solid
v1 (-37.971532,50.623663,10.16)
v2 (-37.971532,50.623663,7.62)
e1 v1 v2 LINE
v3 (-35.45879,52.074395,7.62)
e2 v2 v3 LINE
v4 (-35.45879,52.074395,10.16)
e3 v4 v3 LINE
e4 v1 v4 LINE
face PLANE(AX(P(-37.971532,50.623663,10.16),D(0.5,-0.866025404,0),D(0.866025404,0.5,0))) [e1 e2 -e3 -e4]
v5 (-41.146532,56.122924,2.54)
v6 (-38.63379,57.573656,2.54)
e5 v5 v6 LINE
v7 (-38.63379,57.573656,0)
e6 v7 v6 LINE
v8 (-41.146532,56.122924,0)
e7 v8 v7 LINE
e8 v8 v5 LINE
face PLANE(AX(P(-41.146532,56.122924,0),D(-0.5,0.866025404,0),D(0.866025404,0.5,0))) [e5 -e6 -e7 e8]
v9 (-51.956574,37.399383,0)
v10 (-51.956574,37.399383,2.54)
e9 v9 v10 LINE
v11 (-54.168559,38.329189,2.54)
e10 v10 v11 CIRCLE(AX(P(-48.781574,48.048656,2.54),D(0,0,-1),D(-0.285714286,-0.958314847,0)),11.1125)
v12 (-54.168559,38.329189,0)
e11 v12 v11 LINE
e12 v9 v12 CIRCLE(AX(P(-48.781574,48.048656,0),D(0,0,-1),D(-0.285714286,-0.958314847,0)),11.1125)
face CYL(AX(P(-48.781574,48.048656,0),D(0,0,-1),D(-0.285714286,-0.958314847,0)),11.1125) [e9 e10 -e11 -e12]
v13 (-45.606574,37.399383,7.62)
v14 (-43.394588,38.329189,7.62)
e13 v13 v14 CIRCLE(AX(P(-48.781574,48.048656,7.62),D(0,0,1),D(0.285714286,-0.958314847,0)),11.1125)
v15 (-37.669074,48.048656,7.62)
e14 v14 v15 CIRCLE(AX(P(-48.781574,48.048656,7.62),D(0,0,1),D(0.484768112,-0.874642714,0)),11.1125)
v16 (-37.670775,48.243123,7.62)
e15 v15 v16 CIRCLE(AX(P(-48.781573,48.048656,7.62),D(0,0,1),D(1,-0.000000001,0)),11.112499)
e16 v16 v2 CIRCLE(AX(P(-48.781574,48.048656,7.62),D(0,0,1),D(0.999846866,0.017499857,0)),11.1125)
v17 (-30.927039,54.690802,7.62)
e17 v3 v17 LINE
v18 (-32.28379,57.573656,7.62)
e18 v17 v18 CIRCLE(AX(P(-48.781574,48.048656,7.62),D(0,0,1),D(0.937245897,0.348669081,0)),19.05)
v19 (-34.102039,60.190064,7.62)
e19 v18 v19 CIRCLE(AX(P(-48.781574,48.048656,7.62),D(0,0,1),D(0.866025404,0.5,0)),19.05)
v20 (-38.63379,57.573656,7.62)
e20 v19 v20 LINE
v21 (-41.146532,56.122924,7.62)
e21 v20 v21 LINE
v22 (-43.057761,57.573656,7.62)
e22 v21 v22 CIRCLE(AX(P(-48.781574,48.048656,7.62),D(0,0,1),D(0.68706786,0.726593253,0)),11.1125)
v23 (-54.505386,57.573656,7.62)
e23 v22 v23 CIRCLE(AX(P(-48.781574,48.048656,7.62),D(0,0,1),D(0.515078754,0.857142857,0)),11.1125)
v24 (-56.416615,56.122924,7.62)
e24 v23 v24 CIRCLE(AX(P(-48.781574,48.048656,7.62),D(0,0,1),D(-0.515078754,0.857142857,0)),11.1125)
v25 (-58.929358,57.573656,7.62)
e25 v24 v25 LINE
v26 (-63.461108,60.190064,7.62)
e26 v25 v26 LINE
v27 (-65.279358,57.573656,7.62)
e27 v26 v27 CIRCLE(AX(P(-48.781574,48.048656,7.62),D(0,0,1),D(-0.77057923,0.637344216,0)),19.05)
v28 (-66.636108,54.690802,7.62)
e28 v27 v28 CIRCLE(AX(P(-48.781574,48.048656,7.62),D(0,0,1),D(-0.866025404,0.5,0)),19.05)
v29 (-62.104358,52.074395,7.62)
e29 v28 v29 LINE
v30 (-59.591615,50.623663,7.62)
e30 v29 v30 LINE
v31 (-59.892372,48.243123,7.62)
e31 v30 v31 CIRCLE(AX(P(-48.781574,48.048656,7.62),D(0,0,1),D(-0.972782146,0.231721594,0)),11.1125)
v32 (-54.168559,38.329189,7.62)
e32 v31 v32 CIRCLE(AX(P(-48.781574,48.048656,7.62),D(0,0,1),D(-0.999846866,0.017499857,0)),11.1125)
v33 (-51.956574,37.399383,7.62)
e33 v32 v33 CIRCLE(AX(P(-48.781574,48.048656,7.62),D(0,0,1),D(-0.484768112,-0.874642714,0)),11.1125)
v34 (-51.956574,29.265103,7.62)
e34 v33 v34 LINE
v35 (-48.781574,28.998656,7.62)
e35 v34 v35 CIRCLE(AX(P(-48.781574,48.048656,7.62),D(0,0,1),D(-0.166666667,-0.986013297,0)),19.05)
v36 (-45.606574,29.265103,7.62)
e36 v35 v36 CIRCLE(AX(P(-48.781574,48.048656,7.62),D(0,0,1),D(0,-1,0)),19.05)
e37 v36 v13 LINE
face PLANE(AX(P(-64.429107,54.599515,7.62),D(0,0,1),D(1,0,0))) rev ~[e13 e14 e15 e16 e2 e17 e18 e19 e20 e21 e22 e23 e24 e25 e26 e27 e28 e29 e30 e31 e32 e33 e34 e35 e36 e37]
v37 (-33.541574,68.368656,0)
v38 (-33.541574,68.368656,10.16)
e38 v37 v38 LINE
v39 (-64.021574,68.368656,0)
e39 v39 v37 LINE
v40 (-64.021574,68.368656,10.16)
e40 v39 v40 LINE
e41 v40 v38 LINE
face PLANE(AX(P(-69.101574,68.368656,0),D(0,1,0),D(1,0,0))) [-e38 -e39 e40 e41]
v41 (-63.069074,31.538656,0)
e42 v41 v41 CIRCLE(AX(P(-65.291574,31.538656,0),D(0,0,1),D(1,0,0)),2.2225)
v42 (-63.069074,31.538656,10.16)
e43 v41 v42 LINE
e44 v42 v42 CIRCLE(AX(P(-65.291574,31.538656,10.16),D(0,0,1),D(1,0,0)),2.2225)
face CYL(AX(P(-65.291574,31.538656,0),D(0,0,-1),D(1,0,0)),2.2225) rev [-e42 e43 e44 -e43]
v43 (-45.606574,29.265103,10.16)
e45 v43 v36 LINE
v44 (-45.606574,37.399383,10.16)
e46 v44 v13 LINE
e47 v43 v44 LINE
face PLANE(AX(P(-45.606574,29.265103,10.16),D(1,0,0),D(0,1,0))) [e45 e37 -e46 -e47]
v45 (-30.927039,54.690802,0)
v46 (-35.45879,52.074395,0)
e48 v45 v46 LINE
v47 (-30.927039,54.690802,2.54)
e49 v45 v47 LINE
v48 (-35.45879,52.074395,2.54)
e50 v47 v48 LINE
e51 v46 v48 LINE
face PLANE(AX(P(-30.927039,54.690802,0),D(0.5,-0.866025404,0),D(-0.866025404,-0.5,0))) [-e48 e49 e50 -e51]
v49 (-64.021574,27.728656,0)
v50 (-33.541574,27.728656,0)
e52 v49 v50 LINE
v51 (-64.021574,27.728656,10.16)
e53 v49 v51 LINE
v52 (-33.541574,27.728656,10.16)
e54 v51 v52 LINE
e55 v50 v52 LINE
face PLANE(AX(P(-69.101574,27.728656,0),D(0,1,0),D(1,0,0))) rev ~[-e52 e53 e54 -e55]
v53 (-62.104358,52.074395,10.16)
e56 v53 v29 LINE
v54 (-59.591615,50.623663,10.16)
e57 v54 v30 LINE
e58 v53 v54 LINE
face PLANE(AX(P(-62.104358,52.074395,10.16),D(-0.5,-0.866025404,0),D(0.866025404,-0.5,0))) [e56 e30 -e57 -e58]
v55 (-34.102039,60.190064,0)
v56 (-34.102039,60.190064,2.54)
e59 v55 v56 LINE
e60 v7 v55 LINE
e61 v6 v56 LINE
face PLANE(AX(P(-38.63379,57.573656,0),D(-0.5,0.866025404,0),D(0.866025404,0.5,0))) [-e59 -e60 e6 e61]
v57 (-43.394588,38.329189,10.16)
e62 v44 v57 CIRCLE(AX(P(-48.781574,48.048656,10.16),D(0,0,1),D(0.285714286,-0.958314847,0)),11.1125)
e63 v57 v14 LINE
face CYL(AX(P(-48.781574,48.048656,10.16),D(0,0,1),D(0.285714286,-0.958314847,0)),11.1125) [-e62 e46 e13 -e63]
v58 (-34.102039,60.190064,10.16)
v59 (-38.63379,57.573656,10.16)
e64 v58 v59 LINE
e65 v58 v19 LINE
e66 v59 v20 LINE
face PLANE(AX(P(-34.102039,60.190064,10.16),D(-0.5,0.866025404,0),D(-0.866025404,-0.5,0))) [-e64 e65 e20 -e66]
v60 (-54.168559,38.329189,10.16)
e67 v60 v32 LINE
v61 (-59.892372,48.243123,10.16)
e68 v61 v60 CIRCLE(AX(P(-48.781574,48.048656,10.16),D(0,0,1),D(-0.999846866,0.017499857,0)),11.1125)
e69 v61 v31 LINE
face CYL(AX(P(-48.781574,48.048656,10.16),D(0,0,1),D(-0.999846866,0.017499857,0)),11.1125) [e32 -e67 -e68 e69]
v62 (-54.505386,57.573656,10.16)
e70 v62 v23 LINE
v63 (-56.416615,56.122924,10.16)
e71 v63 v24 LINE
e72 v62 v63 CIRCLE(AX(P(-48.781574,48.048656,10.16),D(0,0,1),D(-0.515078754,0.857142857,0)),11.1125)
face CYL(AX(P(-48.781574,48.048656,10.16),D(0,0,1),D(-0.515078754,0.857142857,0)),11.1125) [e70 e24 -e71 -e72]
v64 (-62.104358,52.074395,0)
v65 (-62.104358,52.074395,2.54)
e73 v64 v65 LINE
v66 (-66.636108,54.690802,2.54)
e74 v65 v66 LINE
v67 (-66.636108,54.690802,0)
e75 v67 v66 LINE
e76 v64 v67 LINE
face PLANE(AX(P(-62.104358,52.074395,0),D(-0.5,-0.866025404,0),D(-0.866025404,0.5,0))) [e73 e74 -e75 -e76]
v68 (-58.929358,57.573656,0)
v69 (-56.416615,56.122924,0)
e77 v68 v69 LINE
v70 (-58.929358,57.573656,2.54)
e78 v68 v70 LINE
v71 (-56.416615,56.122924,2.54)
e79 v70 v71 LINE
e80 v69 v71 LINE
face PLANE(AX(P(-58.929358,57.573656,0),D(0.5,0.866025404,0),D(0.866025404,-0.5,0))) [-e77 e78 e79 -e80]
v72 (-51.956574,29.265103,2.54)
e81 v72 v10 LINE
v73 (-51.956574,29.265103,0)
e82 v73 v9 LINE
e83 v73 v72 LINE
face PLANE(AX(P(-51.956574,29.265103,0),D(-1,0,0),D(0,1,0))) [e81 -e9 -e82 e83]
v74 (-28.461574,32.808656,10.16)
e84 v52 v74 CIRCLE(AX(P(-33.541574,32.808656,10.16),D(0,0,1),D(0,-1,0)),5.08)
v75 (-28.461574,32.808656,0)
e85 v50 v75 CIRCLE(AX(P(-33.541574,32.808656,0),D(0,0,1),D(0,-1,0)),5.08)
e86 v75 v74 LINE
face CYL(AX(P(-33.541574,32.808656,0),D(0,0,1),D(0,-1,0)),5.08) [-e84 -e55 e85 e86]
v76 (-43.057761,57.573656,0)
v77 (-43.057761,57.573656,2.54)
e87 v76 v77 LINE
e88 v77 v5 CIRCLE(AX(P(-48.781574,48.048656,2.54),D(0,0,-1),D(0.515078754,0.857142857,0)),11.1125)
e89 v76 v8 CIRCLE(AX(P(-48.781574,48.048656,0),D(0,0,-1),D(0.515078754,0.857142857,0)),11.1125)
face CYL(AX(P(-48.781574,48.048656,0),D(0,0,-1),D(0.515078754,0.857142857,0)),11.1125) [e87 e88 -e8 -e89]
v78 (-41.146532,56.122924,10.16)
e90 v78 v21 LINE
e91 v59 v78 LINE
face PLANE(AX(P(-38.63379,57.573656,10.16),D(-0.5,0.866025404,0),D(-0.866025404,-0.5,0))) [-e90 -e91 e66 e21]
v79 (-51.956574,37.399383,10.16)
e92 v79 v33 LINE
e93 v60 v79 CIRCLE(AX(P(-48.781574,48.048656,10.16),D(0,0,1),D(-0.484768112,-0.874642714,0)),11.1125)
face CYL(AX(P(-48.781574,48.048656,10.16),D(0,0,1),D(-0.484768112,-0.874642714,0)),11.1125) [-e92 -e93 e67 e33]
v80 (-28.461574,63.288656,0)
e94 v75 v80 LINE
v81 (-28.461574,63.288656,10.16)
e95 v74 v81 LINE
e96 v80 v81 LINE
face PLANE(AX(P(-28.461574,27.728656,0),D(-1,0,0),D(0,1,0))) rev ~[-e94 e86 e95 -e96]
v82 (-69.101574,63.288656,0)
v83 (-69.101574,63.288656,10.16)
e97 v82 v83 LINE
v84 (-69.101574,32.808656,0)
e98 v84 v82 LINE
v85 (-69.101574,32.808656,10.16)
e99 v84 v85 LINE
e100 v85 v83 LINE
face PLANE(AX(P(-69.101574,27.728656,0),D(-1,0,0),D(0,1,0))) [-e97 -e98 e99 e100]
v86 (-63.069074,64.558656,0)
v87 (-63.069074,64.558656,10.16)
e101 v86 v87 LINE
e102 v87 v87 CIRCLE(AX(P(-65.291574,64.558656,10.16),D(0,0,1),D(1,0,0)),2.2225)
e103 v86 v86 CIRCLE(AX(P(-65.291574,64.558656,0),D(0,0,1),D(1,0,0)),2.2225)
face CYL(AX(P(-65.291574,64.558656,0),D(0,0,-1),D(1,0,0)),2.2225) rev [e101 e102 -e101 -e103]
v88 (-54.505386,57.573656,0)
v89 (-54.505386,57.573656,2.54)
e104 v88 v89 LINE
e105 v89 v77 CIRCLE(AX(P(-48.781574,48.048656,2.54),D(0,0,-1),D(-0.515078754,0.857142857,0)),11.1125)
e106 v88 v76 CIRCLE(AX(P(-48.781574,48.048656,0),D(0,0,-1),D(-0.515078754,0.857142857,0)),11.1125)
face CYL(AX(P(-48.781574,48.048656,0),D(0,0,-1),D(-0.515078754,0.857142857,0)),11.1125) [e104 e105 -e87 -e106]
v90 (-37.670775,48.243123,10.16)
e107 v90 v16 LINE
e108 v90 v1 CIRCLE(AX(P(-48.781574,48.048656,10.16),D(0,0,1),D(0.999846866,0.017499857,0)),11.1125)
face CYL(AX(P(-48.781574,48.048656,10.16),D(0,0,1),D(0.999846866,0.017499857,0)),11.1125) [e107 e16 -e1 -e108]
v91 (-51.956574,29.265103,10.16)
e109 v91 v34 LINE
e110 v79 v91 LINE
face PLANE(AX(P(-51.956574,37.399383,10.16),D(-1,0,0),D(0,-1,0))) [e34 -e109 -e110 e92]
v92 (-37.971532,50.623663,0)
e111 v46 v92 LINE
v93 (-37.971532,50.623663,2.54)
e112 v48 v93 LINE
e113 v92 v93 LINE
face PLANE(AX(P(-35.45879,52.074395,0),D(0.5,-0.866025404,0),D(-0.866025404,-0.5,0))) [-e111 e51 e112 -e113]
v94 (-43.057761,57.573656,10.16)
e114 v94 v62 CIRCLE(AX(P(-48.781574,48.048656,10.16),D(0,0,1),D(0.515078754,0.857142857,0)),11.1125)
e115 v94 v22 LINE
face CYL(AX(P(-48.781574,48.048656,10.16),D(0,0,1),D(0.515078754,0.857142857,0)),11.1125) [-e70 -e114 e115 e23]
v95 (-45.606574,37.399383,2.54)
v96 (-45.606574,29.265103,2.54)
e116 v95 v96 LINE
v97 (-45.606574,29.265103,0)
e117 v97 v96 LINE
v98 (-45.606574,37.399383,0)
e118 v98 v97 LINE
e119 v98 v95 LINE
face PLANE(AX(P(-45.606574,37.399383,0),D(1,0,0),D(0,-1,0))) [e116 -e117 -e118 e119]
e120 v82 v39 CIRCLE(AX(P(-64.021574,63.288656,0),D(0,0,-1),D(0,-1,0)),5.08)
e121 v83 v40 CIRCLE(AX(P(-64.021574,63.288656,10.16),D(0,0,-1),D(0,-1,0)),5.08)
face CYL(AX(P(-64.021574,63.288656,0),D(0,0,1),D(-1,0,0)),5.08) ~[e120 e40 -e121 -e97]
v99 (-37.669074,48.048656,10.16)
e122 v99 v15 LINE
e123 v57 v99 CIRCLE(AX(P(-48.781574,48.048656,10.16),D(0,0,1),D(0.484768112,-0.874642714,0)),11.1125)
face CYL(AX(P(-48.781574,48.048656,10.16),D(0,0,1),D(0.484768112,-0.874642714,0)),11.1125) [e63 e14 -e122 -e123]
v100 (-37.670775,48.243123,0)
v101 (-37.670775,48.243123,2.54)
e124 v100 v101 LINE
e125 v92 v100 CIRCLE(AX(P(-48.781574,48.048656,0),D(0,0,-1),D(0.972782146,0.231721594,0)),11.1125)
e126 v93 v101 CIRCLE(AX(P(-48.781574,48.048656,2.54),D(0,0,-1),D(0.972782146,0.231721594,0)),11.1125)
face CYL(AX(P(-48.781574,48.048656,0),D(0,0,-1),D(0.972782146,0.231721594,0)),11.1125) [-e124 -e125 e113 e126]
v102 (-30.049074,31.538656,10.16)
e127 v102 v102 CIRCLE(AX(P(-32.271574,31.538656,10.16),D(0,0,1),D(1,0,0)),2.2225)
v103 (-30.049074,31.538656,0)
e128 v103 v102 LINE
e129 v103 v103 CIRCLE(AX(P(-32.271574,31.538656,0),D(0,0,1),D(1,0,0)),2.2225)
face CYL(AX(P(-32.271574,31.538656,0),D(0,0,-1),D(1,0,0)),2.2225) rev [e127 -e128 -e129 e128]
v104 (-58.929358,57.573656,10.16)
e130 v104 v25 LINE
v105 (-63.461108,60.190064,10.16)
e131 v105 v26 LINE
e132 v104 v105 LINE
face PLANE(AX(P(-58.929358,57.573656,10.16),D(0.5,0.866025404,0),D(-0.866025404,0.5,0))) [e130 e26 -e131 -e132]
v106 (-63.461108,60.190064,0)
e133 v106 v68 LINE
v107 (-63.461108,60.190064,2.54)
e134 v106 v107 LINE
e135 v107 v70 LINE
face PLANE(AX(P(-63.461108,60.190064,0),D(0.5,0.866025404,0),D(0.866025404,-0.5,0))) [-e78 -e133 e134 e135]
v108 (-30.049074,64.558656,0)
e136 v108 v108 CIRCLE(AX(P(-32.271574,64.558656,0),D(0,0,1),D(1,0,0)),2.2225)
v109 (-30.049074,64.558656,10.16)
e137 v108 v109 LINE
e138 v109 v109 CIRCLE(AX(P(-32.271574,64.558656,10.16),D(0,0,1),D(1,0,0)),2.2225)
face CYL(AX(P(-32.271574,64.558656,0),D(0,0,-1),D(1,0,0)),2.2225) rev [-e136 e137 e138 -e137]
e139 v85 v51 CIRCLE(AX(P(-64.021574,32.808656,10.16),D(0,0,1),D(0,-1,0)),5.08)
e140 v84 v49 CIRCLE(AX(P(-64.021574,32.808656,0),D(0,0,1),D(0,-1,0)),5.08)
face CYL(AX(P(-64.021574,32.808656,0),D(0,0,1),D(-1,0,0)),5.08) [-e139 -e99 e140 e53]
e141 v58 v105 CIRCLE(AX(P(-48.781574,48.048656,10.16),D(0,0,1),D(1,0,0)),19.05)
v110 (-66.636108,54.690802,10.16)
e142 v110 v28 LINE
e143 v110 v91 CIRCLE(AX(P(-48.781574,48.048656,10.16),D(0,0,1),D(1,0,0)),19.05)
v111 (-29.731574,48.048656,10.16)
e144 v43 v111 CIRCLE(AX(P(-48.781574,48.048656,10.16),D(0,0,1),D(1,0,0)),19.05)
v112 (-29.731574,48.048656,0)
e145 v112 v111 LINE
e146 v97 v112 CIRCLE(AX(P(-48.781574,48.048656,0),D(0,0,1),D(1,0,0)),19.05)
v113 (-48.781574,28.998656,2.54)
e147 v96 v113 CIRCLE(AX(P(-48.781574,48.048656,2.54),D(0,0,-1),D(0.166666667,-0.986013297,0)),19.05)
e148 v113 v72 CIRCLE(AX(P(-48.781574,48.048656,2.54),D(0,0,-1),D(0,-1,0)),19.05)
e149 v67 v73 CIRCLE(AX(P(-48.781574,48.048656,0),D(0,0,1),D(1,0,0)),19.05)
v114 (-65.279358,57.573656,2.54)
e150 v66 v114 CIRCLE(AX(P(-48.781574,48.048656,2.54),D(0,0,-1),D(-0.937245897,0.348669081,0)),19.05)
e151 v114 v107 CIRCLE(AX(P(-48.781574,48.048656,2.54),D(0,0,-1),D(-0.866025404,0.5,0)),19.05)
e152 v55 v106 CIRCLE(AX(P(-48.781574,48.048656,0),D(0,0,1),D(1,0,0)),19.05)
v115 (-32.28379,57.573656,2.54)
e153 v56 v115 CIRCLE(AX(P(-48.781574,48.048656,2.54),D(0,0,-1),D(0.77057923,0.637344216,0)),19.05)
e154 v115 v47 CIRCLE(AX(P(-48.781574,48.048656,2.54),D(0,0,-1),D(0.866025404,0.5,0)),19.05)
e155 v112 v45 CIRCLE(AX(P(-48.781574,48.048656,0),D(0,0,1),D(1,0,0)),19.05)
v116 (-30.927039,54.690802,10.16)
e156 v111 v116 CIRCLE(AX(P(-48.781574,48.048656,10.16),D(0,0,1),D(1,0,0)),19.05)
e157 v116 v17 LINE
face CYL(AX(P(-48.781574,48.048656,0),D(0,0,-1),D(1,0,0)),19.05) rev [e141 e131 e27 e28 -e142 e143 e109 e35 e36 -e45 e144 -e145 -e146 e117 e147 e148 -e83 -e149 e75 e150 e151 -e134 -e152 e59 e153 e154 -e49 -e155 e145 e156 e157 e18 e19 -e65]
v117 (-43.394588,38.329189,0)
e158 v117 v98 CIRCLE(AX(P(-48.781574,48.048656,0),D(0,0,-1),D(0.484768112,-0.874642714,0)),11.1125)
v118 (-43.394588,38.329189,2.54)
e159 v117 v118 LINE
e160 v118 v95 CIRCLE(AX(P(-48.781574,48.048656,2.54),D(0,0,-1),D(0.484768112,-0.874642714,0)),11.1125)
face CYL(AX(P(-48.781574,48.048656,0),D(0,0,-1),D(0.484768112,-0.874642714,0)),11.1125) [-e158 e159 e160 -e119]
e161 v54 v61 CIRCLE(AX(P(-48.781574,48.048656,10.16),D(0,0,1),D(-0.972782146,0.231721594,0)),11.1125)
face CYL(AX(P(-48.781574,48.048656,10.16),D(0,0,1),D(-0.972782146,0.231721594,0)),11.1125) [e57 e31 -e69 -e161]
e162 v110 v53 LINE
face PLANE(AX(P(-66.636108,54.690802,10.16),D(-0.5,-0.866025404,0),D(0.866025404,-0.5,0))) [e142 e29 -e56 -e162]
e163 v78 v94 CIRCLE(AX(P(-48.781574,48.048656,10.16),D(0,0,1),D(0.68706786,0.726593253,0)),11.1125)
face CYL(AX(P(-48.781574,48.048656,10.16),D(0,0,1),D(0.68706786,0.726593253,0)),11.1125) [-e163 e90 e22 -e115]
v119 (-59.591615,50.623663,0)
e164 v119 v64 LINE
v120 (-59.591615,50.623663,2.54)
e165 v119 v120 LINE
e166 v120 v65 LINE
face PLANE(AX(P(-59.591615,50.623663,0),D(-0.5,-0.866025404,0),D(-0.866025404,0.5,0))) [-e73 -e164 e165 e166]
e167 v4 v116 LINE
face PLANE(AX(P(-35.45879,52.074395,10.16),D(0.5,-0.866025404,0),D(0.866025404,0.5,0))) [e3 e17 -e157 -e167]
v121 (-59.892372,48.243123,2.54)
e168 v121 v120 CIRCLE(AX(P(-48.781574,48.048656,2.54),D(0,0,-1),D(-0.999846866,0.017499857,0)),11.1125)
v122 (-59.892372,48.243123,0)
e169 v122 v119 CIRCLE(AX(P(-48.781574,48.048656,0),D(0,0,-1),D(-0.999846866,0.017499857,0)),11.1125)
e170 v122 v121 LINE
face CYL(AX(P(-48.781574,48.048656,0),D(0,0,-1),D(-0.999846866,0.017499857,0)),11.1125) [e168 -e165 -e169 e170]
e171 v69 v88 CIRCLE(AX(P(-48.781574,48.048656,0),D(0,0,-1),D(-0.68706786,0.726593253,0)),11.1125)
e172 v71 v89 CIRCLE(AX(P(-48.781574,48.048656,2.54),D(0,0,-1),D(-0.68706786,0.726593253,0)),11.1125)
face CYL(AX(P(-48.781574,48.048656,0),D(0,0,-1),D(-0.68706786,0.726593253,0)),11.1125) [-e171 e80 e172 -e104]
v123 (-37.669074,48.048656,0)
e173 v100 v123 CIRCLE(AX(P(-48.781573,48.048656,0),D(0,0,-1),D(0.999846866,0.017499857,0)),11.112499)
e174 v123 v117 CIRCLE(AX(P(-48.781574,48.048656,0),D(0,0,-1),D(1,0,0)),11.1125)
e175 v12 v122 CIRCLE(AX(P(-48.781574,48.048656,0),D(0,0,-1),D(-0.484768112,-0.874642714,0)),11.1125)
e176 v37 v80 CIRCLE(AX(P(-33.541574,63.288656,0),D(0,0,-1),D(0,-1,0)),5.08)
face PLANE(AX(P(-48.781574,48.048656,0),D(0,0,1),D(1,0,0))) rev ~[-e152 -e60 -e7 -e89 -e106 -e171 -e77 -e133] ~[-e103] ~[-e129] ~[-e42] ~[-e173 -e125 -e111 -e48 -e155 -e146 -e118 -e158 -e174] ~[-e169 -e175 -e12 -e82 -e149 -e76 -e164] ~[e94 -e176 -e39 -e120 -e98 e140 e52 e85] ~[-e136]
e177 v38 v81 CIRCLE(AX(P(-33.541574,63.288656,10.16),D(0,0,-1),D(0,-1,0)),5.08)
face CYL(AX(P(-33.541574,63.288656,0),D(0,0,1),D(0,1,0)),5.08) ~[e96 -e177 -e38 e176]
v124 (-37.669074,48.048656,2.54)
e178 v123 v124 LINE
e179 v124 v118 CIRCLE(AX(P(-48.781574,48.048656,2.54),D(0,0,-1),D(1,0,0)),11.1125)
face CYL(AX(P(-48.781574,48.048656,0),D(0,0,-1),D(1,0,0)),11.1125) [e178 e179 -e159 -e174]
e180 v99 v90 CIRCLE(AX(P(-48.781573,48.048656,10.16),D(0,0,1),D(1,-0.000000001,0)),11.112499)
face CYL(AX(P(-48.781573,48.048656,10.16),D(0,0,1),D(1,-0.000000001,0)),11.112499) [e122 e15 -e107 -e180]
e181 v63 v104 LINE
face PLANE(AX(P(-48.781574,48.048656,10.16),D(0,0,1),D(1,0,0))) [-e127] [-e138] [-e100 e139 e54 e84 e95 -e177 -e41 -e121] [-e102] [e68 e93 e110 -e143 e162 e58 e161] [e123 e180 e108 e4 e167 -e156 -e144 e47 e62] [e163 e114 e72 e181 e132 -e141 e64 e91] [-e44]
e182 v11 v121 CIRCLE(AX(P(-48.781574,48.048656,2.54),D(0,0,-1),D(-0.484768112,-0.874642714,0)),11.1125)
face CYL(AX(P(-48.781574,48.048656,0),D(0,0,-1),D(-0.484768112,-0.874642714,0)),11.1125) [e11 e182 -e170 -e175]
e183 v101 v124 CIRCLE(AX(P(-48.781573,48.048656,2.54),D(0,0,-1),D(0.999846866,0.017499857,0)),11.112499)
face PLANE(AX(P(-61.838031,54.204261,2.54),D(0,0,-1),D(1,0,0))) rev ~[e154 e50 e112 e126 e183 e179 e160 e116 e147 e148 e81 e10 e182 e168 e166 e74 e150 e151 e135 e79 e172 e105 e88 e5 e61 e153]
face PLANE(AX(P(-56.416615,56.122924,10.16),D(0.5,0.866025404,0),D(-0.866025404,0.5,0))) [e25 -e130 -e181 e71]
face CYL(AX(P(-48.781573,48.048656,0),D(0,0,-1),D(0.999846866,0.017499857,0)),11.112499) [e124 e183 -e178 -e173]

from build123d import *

# Parameters (mm, degrees)
F0_W     = 40.64
F0_H     = 40.64
F0_R     = 2.2225
F0_R_2   = 19.05
F1_DEPTH = 10.16
F3_DEPTH = 2.54
F5_DEPTH = 2.54
F6_R     = 5.08
F7_R     = 5.08
F8_R     = 5.08
F9_R     = 5.08


with BuildPart() as f1:
    # F0 (on Top) → F1 (new body)
    with BuildSketch(Plane.XY):
        with Locations((-48.7815736455, 48.0486563069)):
            Rectangle(F0_W, F0_H)
        with Locations((-65.2915736455, 31.5386563069)):
            Circle(F0_R, mode=Mode.SUBTRACT)
        with Locations((-32.2715736455, 31.5386563069)):
            Circle(F0_R, mode=Mode.SUBTRACT)
        with Locations((-48.7815736455, 48.0486563069)):
            Circle(F0_R_2, mode=Mode.SUBTRACT)
        with Locations((-65.2915736455, 64.5586563069)):
            Circle(F0_R, mode=Mode.SUBTRACT)
        with Locations((-32.2715736455, 64.5586563069)):
            Circle(F0_R, mode=Mode.SUBTRACT)
    extrude(amount=F1_DEPTH)

    # F2 (on face) → F3 (join)
    with BuildSketch(Plane(origin=(0, 0, 0), x_dir=(1, 0, 0), z_dir=(0, 0, -1))):
        with BuildLine():
            Line((-65.2793575876, -57.5736563069), (-58.405280945, -53.6049063069))
            ThreePointArc((-58.405280945, -53.6049063069), (-59.1066149083, -52.157327524), (-59.5916152386, -50.6236625213))
            Line((-59.5916152386, -50.6236625213), (-62.1043575876, -52.0743949928))
            Line((-62.1043575876, -52.0743949928), (-65.2793575876, -57.5736563069))
        make_face()
        with BuildLine():
            ThreePointArc((-65.2793575876, -57.5736563069), (-64.4250288468, -58.9199400104), (-63.4611079864, -60.1900636195))
            Line((-63.4611079864, -60.1900636195), (-58.9293575876, -57.5736563069))
            Line((-58.9293575876, -57.5736563069), (-65.2793575876, -57.5736563069))
        make_face()
        with BuildLine():
            ThreePointArc((-56.4166152386, -56.1229238353), (-57.5023079267, -54.9360687271), (-58.405280945, -53.6049063069))
            Line((-58.405280945, -53.6049063069), (-65.2793575876, -57.5736563069))
            Line((-65.2793575876, -57.5736563069), (-58.9293575876, -57.5736563069))
            Line((-58.9293575876, -57.5736563069), (-56.4166152386, -56.1229238353))
        make_face()
        with BuildLine():
            Line((-62.1043575876, -52.0743949928), (-66.6361079864, -54.6908023055))
            ThreePointArc((-66.6361079864, -54.6908023055), (-66.0181091052, -56.1606440624), (-65.2793575876, -57.5736563069))
            Line((-65.2793575876, -57.5736563069), (-62.1043575876, -52.0743949928))
        make_face()
        with BuildLine():
            Line((-58.405280945, -53.6049063069), (-48.7815736455, -48.0486563069))
            Line((-48.7815736455, -48.0486563069), (-51.9565736455, -48.0486563069))
            Line((-51.9565736455, -48.0486563069), (-51.9565736455, -46.2155692022))
            Line((-51.9565736455, -46.2155692022), (-59.5916152386, -50.6236625213))
            ThreePointArc((-59.5916152386, -50.6236625213), (-59.1066149083, -52.157327524), (-58.405280945, -53.6049063069))
        make_face()
        with BuildLine():
            Line((-50.3690736455, -50.7982869639), (-48.7815736455, -48.0486563069))
            Line((-48.7815736455, -48.0486563069), (-58.405280945, -53.6049063069))
            ThreePointArc((-58.405280945, -53.6049063069), (-57.5023079267, -54.9360687271), (-56.4166152386, -56.1229238353))
            Line((-56.4166152386, -56.1229238353), (-48.7815736455, -51.7148305162))
            Line((-48.7815736455, -51.7148305162), (-50.3690736455, -50.7982869639))
        make_face()
        with BuildLine():
            ThreePointArc((-43.0577609957, -57.5736563069), (-42.0628756431, -56.9000264496), (-41.1465320523, -56.1229238353))
            Line((-41.1465320523, -56.1229238353), (-48.7815736455, -51.7148305162))
            Line((-48.7815736455, -51.7148305162), (-56.4166152386, -56.1229238353))
            ThreePointArc((-56.4166152386, -56.1229238353), (-55.5002716478, -56.9000264496), (-54.5053862953, -57.5736563069))
            Line((-54.5053862953, -57.5736563069), (-43.0577609957, -57.5736563069))
        make_face()
        with BuildLine():
            Line((-51.9565736455, -46.2155692022), (-51.9565736455, -37.399382564))
            ThreePointArc((-51.9565736455, -37.399382564), (-53.0877360462, -37.8044080851), (-54.1685592916, -38.3291891456))
            Line((-54.1685592916, -38.3291891456), (-59.8923719414, -48.2431234681))
            ThreePointArc((-59.8923719414, -48.2431234681), (-59.8064340485, -49.4415343859), (-59.5916152386, -50.6236625213))
            Line((-59.5916152386, -50.6236625213), (-51.9565736455, -46.2155692022))
        make_face()
        Polygon((-51.9565736455, -48.0486563069), (-48.7815736455, -48.0486563069), (-50.3690736455, -45.2990256498), (-51.9565736455, -46.2155692022), align=None)
        Polygon((-47.1940736455, -50.7982869639), (-48.7815736455, -48.0486563069), (-50.3690736455, -50.7982869639), (-48.7815736455, -51.7148305162), align=None)
        Polygon((-45.6065736455, -48.0486563069), (-45.6065736455, -46.2155692022), (-47.1940736455, -45.2990256498), (-48.7815736455, -48.0486563069), align=None)
        with BuildLine():
            Line((-45.6065736455, -46.2155692022), (-45.6065736455, -37.399382564))
            ThreePointArc((-45.6065736455, -37.399382564), (-47.1772666638, -37.0525726696), (-48.7815736455, -36.9361563069))
            Line((-48.7815736455, -36.9361563069), (-48.7815736455, -48.0486563069))
            Line((-48.7815736455, -48.0486563069), (-47.1940736455, -45.2990256498))
            Line((-47.1940736455, -45.2990256498), (-45.6065736455, -46.2155692022))
        make_face()
        with BuildLine():
            Line((-48.7815736455, -48.0486563069), (-48.7815736455, -36.9361563069))
            ThreePointArc((-48.7815736455, -36.9361563069), (-50.3858806271, -37.0525726696), (-51.9565736455, -37.399382564))
            Line((-51.9565736455, -37.399382564), (-51.9565736455, -46.2155692022))
            Line((-51.9565736455, -46.2155692022), (-50.3690736455, -45.2990256498))
            Line((-50.3690736455, -45.2990256498), (-48.7815736455, -48.0486563069))
        make_face()
        with BuildLine():
            Line((-59.8923719414, -48.2431234681), (-54.1685592916, -38.3291891456))
            ThreePointArc((-54.1685592916, -38.3291891456), (-58.405280945, -42.4924063069), (-59.8923719414, -48.2431234681))
        make_face()
        with BuildLine():
            ThreePointArc((-54.5053862953, -57.5736563069), (-48.7815736455, -59.1611563069), (-43.0577609957, -57.5736563069))
            Line((-43.0577609957, -57.5736563069), (-54.5053862953, -57.5736563069))
        make_face()
        with BuildLine():
            ThreePointArc((-41.1465320523, -56.1229238353), (-40.0608393642, -54.9360687271), (-39.1578663459, -53.6049063069))
            Line((-39.1578663459, -53.6049063069), (-48.7815736455, -48.0486563069))
            Line((-48.7815736455, -48.0486563069), (-47.1940736455, -50.7982869639))
            Line((-47.1940736455, -50.7982869639), (-48.7815736455, -51.7148305162))
            Line((-48.7815736455, -51.7148305162), (-41.1465320523, -56.1229238353))
        make_face()
        with BuildLine():
            ThreePointArc((-39.1578663459, -53.6049063069), (-38.4565323826, -52.157327524), (-37.9715320523, -50.6236625213))
            Line((-37.9715320523, -50.6236625213), (-45.6065736455, -46.2155692022))
            Line((-45.6065736455, -46.2155692022), (-45.6065736455, -48.0486563069))
            Line((-45.6065736455, -48.0486563069), (-48.7815736455, -48.0486563069))
            Line((-48.7815736455, -48.0486563069), (-39.1578663459, -53.6049063069))
        make_face()
        with BuildLine():
            Line((-32.2837897034, -57.5736563069), (-39.1578663459, -53.6049063069))
            ThreePointArc((-39.1578663459, -53.6049063069), (-40.0608393642, -54.9360687271), (-41.1465320523, -56.1229238353))
            Line((-41.1465320523, -56.1229238353), (-38.6337897034, -57.5736563069))
            Line((-38.6337897034, -57.5736563069), (-32.2837897034, -57.5736563069))
        make_face()
        with BuildLine():
            ThreePointArc((-34.1020393045, -60.1900636195), (-33.1381184441, -58.9199400104), (-32.2837897034, -57.5736563069))
            Line((-32.2837897034, -57.5736563069), (-38.6337897034, -57.5736563069))
            Line((-38.6337897034, -57.5736563069), (-34.1020393045, -60.1900636195))
        make_face()
        with BuildLine():
            Line((-30.9270393045, -54.6908023055), (-35.4587897034, -52.0743949928))
            Line((-35.4587897034, -52.0743949928), (-32.2837897034, -57.5736563069))
            ThreePointArc((-32.2837897034, -57.5736563069), (-31.5450381858, -56.1606440624), (-30.9270393045, -54.6908023055))
        make_face()
        with BuildLine():
            Line((-35.4587897034, -52.0743949928), (-37.9715320523, -50.6236625213))
            ThreePointArc((-37.9715320523, -50.6236625213), (-38.4565323826, -52.157327524), (-39.1578663459, -53.6049063069))
            Line((-39.1578663459, -53.6049063069), (-32.2837897034, -57.5736563069))
            Line((-32.2837897034, -57.5736563069), (-35.4587897034, -52.0743949928))
        make_face()
        with BuildLine():
            Line((-37.6707753495, -48.2431234681), (-43.3945879993, -38.3291891456))
            ThreePointArc((-43.3945879993, -38.3291891456), (-44.4754112448, -37.8044080851), (-45.6065736455, -37.399382564))
            Line((-45.6065736455, -37.399382564), (-45.6065736455, -46.2155692022))
            Line((-45.6065736455, -46.2155692022), (-37.9715320523, -50.6236625213))
            ThreePointArc((-37.9715320523, -50.6236625213), (-37.7567132424, -49.4415343859), (-37.6707753495, -48.2431234681))
        make_face()
        with BuildLine():
            ThreePointArc((-37.6707753495, -48.2431234681), (-37.6694990796, -48.1458936101), (-37.6690736455, -48.0486563069))
            ThreePointArc((-37.6690736455, -48.0486563069), (-39.2068534343, -42.4084090491), (-43.3945879993, -38.3291891456))
            Line((-43.3945879993, -38.3291891456), (-37.6707753495, -48.2431234681))
        make_face()
        with BuildLine():
            ThreePointArc((-51.9565736455, -37.399382564), (-50.3858806271, -37.0525726696), (-48.7815736455, -36.9361563069))
            Line((-48.7815736455, -36.9361563069), (-48.7815736455, -28.9986563069))
            Line((-48.7815736455, -28.9986563069), (-51.9565736455, -34.4979176209))
            Line((-51.9565736455, -34.4979176209), (-51.9565736455, -37.399382564))
        make_face()
        with BuildLine():
            Line((-51.9565736455, -34.4979176209), (-48.7815736455, -28.9986563069))
            ThreePointArc((-48.7815736455, -28.9986563069), (-50.3746539038, -29.0653848477), (-51.9565736455, -29.2651029955))
            Line((-51.9565736455, -29.2651029955), (-51.9565736455, -34.4979176209))
        make_face()
        with BuildLine():
            ThreePointArc((-48.7815736455, -36.9361563069), (-47.1772666638, -37.0525726696), (-45.6065736455, -37.399382564))
            Line((-45.6065736455, -37.399382564), (-45.6065736455, -34.4979176209))
            Line((-45.6065736455, -34.4979176209), (-48.7815736455, -28.9986563069))
            Line((-48.7815736455, -28.9986563069), (-48.7815736455, -36.9361563069))
        make_face()
        with BuildLine():
            Line((-48.7815736455, -28.9986563069), (-45.6065736455, -34.4979176209))
            Line((-45.6065736455, -34.4979176209), (-45.6065736455, -29.2651029955))
            ThreePointArc((-45.6065736455, -29.2651029955), (-47.1884933871, -29.0653848477), (-48.7815736455, -28.9986563069))
        make_face()
    extrude(amount=-F3_DEPTH)

    # F4 (on face) → F5 (join)
    with BuildSketch(Plane.XY.offset(10.16)):
        with BuildLine():
            ThreePointArc((-65.2793575876, 57.5736563069), (-66.0181091052, 56.1606440624), (-66.6361079864, 54.6908023055))
            Line((-66.6361079864, 54.6908023055), (-62.1043575876, 52.0743949928))
            Line((-62.1043575876, 52.0743949928), (-65.2793575876, 57.5736563069))
        make_face()
        with BuildLine():
            ThreePointArc((-59.5916152386, 50.6236625213), (-59.1066149083, 52.157327524), (-58.405280945, 53.6049063069))
            Line((-58.405280945, 53.6049063069), (-65.2793575876, 57.5736563069))
            Line((-65.2793575876, 57.5736563069), (-62.1043575876, 52.0743949928))
            Line((-62.1043575876, 52.0743949928), (-59.5916152386, 50.6236625213))
        make_face()
        with BuildLine():
            Line((-65.2793575876, 57.5736563069), (-58.405280945, 53.6049063069))
            ThreePointArc((-58.405280945, 53.6049063069), (-57.5023079267, 54.9360687271), (-56.4166152386, 56.1229238353))
            Line((-56.4166152386, 56.1229238353), (-58.9293575876, 57.5736563069))
            Line((-58.9293575876, 57.5736563069), (-65.2793575876, 57.5736563069))
        make_face()
        with BuildLine():
            Line((-58.9293575876, 57.5736563069), (-63.4611079864, 60.1900636195))
            ThreePointArc((-63.4611079864, 60.1900636195), (-64.4250288468, 58.9199400104), (-65.2793575876, 57.5736563069))
            Line((-65.2793575876, 57.5736563069), (-58.9293575876, 57.5736563069))
        make_face()
        with BuildLine():
            Line((-48.7815736455, 51.7148305162), (-41.1465320523, 56.1229238353))
            ThreePointArc((-41.1465320523, 56.1229238353), (-42.0628756431, 56.9000264496), (-43.0577609957, 57.5736563069))
            Line((-43.0577609957, 57.5736563069), (-54.5053862953, 57.5736563069))
            ThreePointArc((-54.5053862953, 57.5736563069), (-55.5002716478, 56.9000264496), (-56.4166152386, 56.1229238353))
            Line((-56.4166152386, 56.1229238353), (-48.7815736455, 51.7148305162))
        make_face()
        with BuildLine():
            Line((-54.5053862953, 57.5736563069), (-43.0577609957, 57.5736563069))
            ThreePointArc((-43.0577609957, 57.5736563069), (-48.7815736455, 59.1611563069), (-54.5053862953, 57.5736563069))
        make_face()
        with BuildLine():
            Line((-58.405280945, 53.6049063069), (-48.7815736455, 48.0486563069))
            Line((-48.7815736455, 48.0486563069), (-50.3690736455, 50.7982869639))
            Line((-50.3690736455, 50.7982869639), (-48.7815736455, 51.7148305162))
            Line((-48.7815736455, 51.7148305162), (-56.4166152386, 56.1229238353))
            ThreePointArc((-56.4166152386, 56.1229238353), (-57.5023079267, 54.9360687271), (-58.405280945, 53.6049063069))
        make_face()
        with BuildLine():
            Line((-51.9565736455, 48.0486563069), (-48.7815736455, 48.0486563069))
            Line((-48.7815736455, 48.0486563069), (-58.405280945, 53.6049063069))
            ThreePointArc((-58.405280945, 53.6049063069), (-59.1066149083, 52.157327524), (-59.5916152386, 50.6236625213))
            Line((-59.5916152386, 50.6236625213), (-51.9565736455, 46.2155692022))
            Line((-51.9565736455, 46.2155692022), (-51.9565736455, 48.0486563069))
        make_face()
        with BuildLine():
            ThreePointArc((-59.8923719414, 48.2431234681), (-58.405280945, 42.4924063069), (-54.1685592916, 38.3291891456))
            Line((-54.1685592916, 38.3291891456), (-59.8923719414, 48.2431234681))
        make_face()
        with BuildLine():
            ThreePointArc((-54.1685592916, 38.3291891456), (-53.0877360462, 37.8044080851), (-51.9565736455, 37.399382564))
            Line((-51.9565736455, 37.399382564), (-51.9565736455, 46.2155692022))
            Line((-51.9565736455, 46.2155692022), (-59.5916152386, 50.6236625213))
            ThreePointArc((-59.5916152386, 50.6236625213), (-59.8064340485, 49.4415343859), (-59.8923719414, 48.2431234681))
            Line((-59.8923719414, 48.2431234681), (-54.1685592916, 38.3291891456))
        make_face()
        with BuildLine():
            ThreePointArc((-51.9565736455, 37.399382564), (-50.3858806271, 37.0525726696), (-48.7815736455, 36.9361563069))
            Line((-48.7815736455, 36.9361563069), (-48.7815736455, 48.0486563069))
            Line((-48.7815736455, 48.0486563069), (-50.3690736455, 45.2990256498))
            Line((-50.3690736455, 45.2990256498), (-51.9565736455, 46.2155692022))
            Line((-51.9565736455, 46.2155692022), (-51.9565736455, 37.399382564))
        make_face()
        with BuildLine():
            ThreePointArc((-48.7815736455, 36.9361563069), (-47.1772666638, 37.0525726696), (-45.6065736455, 37.399382564))
            Line((-45.6065736455, 37.399382564), (-45.6065736455, 46.2155692022))
            Line((-45.6065736455, 46.2155692022), (-47.1940736455, 45.2990256498))
            Line((-47.1940736455, 45.2990256498), (-48.7815736455, 48.0486563069))
            Line((-48.7815736455, 48.0486563069), (-48.7815736455, 36.9361563069))
        make_face()
        Polygon((-50.3690736455, 45.2990256498), (-48.7815736455, 48.0486563069), (-51.9565736455, 48.0486563069), (-51.9565736455, 46.2155692022), align=None)
        with BuildLine():
            Line((-48.7815736455, 48.0486563069), (-39.1578663459, 53.6049063069))
            ThreePointArc((-39.1578663459, 53.6049063069), (-40.0608393642, 54.9360687271), (-41.1465320523, 56.1229238353))
            Line((-41.1465320523, 56.1229238353), (-48.7815736455, 51.7148305162))
            Line((-48.7815736455, 51.7148305162), (-47.1940736455, 50.7982869639))
            Line((-47.1940736455, 50.7982869639), (-48.7815736455, 48.0486563069))
        make_face()
        with BuildLine():
            Line((-45.6065736455, 46.2155692022), (-37.9715320523, 50.6236625213))
            ThreePointArc((-37.9715320523, 50.6236625213), (-38.4565323826, 52.157327524), (-39.1578663459, 53.6049063069))
            Line((-39.1578663459, 53.6049063069), (-48.7815736455, 48.0486563069))
            Line((-48.7815736455, 48.0486563069), (-45.6065736455, 48.0486563069))
            Line((-45.6065736455, 48.0486563069), (-45.6065736455, 46.2155692022))
        make_face()
        Polygon((-47.1940736455, 45.2990256498), (-45.6065736455, 46.2155692022), (-45.6065736455, 48.0486563069), (-48.7815736455, 48.0486563069), align=None)
        Polygon((-50.3690736455, 50.7982869639), (-48.7815736455, 48.0486563069), (-47.1940736455, 50.7982869639), (-48.7815736455, 51.7148305162), align=None)
        with BuildLine():
            Line((-38.6337897034, 57.5736563069), (-32.2837897034, 57.5736563069))
            ThreePointArc((-32.2837897034, 57.5736563069), (-33.1381184441, 58.9199400104), (-34.1020393045, 60.1900636195))
            Line((-34.1020393045, 60.1900636195), (-38.6337897034, 57.5736563069))
        make_face()
        with BuildLine():
            ThreePointArc((-41.1465320523, 56.1229238353), (-40.0608393642, 54.9360687271), (-39.1578663459, 53.6049063069))
            Line((-39.1578663459, 53.6049063069), (-32.2837897034, 57.5736563069))
            Line((-32.2837897034, 57.5736563069), (-38.6337897034, 57.5736563069))
            Line((-38.6337897034, 57.5736563069), (-41.1465320523, 56.1229238353))
        make_face()
        with BuildLine():
            ThreePointArc((-39.1578663459, 53.6049063069), (-38.4565323826, 52.157327524), (-37.9715320523, 50.6236625213))
            Line((-37.9715320523, 50.6236625213), (-35.4587897034, 52.0743949928))
            Line((-35.4587897034, 52.0743949928), (-32.2837897034, 57.5736563069))
            Line((-32.2837897034, 57.5736563069), (-39.1578663459, 53.6049063069))
        make_face()
        with BuildLine():
            Line((-32.2837897034, 57.5736563069), (-35.4587897034, 52.0743949928))
            Line((-35.4587897034, 52.0743949928), (-30.9270393045, 54.6908023055))
            ThreePointArc((-30.9270393045, 54.6908023055), (-31.5450381858, 56.1606440624), (-32.2837897034, 57.5736563069))
        make_face()
        with BuildLine():
            Line((-43.3945879993, 38.3291891456), (-37.6707753495, 48.2431234681))
            ThreePointArc((-37.6707753495, 48.2431234681), (-37.7567132424, 49.4415343859), (-37.9715320523, 50.6236625213))
            Line((-37.9715320523, 50.6236625213), (-45.6065736455, 46.2155692022))
            Line((-45.6065736455, 46.2155692022), (-45.6065736455, 37.399382564))
            ThreePointArc((-45.6065736455, 37.399382564), (-44.4754112448, 37.8044080851), (-43.3945879993, 38.3291891456))
        make_face()
        with BuildLine():
            ThreePointArc((-43.3945879993, 38.3291891456), (-39.2068534343, 42.4084090491), (-37.6690736455, 48.0486563069))
            ThreePointArc((-37.6690736455, 48.0486563069), (-37.6694990796, 48.1458936101), (-37.6707753495, 48.2431234681))
            Line((-37.6707753495, 48.2431234681), (-43.3945879993, 38.3291891456))
        make_face()
        with BuildLine():
            Line((-45.6065736455, 34.4979176209), (-45.6065736455, 37.399382564))
            ThreePointArc((-45.6065736455, 37.399382564), (-47.1772666638, 37.0525726696), (-48.7815736455, 36.9361563069))
            Line((-48.7815736455, 36.9361563069), (-48.7815736455, 28.9986563069))
            Line((-48.7815736455, 28.9986563069), (-45.6065736455, 34.4979176209))
        make_face()
        with BuildLine():
            Line((-48.7815736455, 28.9986563069), (-48.7815736455, 36.9361563069))
            ThreePointArc((-48.7815736455, 36.9361563069), (-50.3858806271, 37.0525726696), (-51.9565736455, 37.399382564))
            Line((-51.9565736455, 37.399382564), (-51.9565736455, 34.4979176209))
            Line((-51.9565736455, 34.4979176209), (-48.7815736455, 28.9986563069))
        make_face()
        with BuildLine():
            ThreePointArc((-51.9565736455, 29.2651029955), (-50.3746539038, 29.0653848477), (-48.7815736455, 28.9986563069))
            Line((-48.7815736455, 28.9986563069), (-51.9565736455, 34.4979176209))
            Line((-51.9565736455, 34.4979176209), (-51.9565736455, 29.2651029955))
        make_face()
        with BuildLine():
            Line((-45.6065736455, 29.2651029955), (-45.6065736455, 34.4979176209))
            Line((-45.6065736455, 34.4979176209), (-48.7815736455, 28.9986563069))
            ThreePointArc((-48.7815736455, 28.9986563069), (-47.1884933871, 29.0653848477), (-45.6065736455, 29.2651029955))
        make_face()
    extrude(amount=-F5_DEPTH)

    # F6
    f6_edges = [f1.edges().sort_by_distance(p)[0] for p in [
        (-69.101574, 68.368656, 5.08),
    ]]
    fillet(f6_edges, radius=F6_R)

    # F7
    f7_edges = [f1.edges().sort_by_distance(p)[0] for p in [
        (-28.461574, 68.368656, 5.08),
    ]]
    fillet(f7_edges, radius=F7_R)

    # F8
    f8_edges = [f1.edges().sort_by_distance(p)[0] for p in [
        (-69.101574, 27.728656, 5.08),
    ]]
    fillet(f8_edges, radius=F8_R)

    # F9
    f9_edges = [f1.edges().sort_by_distance(p)[0] for p in [
        (-28.461574, 27.728656, 5.08),
    ]]
    fillet(f9_edges, radius=F9_R)


solid = f1.part
